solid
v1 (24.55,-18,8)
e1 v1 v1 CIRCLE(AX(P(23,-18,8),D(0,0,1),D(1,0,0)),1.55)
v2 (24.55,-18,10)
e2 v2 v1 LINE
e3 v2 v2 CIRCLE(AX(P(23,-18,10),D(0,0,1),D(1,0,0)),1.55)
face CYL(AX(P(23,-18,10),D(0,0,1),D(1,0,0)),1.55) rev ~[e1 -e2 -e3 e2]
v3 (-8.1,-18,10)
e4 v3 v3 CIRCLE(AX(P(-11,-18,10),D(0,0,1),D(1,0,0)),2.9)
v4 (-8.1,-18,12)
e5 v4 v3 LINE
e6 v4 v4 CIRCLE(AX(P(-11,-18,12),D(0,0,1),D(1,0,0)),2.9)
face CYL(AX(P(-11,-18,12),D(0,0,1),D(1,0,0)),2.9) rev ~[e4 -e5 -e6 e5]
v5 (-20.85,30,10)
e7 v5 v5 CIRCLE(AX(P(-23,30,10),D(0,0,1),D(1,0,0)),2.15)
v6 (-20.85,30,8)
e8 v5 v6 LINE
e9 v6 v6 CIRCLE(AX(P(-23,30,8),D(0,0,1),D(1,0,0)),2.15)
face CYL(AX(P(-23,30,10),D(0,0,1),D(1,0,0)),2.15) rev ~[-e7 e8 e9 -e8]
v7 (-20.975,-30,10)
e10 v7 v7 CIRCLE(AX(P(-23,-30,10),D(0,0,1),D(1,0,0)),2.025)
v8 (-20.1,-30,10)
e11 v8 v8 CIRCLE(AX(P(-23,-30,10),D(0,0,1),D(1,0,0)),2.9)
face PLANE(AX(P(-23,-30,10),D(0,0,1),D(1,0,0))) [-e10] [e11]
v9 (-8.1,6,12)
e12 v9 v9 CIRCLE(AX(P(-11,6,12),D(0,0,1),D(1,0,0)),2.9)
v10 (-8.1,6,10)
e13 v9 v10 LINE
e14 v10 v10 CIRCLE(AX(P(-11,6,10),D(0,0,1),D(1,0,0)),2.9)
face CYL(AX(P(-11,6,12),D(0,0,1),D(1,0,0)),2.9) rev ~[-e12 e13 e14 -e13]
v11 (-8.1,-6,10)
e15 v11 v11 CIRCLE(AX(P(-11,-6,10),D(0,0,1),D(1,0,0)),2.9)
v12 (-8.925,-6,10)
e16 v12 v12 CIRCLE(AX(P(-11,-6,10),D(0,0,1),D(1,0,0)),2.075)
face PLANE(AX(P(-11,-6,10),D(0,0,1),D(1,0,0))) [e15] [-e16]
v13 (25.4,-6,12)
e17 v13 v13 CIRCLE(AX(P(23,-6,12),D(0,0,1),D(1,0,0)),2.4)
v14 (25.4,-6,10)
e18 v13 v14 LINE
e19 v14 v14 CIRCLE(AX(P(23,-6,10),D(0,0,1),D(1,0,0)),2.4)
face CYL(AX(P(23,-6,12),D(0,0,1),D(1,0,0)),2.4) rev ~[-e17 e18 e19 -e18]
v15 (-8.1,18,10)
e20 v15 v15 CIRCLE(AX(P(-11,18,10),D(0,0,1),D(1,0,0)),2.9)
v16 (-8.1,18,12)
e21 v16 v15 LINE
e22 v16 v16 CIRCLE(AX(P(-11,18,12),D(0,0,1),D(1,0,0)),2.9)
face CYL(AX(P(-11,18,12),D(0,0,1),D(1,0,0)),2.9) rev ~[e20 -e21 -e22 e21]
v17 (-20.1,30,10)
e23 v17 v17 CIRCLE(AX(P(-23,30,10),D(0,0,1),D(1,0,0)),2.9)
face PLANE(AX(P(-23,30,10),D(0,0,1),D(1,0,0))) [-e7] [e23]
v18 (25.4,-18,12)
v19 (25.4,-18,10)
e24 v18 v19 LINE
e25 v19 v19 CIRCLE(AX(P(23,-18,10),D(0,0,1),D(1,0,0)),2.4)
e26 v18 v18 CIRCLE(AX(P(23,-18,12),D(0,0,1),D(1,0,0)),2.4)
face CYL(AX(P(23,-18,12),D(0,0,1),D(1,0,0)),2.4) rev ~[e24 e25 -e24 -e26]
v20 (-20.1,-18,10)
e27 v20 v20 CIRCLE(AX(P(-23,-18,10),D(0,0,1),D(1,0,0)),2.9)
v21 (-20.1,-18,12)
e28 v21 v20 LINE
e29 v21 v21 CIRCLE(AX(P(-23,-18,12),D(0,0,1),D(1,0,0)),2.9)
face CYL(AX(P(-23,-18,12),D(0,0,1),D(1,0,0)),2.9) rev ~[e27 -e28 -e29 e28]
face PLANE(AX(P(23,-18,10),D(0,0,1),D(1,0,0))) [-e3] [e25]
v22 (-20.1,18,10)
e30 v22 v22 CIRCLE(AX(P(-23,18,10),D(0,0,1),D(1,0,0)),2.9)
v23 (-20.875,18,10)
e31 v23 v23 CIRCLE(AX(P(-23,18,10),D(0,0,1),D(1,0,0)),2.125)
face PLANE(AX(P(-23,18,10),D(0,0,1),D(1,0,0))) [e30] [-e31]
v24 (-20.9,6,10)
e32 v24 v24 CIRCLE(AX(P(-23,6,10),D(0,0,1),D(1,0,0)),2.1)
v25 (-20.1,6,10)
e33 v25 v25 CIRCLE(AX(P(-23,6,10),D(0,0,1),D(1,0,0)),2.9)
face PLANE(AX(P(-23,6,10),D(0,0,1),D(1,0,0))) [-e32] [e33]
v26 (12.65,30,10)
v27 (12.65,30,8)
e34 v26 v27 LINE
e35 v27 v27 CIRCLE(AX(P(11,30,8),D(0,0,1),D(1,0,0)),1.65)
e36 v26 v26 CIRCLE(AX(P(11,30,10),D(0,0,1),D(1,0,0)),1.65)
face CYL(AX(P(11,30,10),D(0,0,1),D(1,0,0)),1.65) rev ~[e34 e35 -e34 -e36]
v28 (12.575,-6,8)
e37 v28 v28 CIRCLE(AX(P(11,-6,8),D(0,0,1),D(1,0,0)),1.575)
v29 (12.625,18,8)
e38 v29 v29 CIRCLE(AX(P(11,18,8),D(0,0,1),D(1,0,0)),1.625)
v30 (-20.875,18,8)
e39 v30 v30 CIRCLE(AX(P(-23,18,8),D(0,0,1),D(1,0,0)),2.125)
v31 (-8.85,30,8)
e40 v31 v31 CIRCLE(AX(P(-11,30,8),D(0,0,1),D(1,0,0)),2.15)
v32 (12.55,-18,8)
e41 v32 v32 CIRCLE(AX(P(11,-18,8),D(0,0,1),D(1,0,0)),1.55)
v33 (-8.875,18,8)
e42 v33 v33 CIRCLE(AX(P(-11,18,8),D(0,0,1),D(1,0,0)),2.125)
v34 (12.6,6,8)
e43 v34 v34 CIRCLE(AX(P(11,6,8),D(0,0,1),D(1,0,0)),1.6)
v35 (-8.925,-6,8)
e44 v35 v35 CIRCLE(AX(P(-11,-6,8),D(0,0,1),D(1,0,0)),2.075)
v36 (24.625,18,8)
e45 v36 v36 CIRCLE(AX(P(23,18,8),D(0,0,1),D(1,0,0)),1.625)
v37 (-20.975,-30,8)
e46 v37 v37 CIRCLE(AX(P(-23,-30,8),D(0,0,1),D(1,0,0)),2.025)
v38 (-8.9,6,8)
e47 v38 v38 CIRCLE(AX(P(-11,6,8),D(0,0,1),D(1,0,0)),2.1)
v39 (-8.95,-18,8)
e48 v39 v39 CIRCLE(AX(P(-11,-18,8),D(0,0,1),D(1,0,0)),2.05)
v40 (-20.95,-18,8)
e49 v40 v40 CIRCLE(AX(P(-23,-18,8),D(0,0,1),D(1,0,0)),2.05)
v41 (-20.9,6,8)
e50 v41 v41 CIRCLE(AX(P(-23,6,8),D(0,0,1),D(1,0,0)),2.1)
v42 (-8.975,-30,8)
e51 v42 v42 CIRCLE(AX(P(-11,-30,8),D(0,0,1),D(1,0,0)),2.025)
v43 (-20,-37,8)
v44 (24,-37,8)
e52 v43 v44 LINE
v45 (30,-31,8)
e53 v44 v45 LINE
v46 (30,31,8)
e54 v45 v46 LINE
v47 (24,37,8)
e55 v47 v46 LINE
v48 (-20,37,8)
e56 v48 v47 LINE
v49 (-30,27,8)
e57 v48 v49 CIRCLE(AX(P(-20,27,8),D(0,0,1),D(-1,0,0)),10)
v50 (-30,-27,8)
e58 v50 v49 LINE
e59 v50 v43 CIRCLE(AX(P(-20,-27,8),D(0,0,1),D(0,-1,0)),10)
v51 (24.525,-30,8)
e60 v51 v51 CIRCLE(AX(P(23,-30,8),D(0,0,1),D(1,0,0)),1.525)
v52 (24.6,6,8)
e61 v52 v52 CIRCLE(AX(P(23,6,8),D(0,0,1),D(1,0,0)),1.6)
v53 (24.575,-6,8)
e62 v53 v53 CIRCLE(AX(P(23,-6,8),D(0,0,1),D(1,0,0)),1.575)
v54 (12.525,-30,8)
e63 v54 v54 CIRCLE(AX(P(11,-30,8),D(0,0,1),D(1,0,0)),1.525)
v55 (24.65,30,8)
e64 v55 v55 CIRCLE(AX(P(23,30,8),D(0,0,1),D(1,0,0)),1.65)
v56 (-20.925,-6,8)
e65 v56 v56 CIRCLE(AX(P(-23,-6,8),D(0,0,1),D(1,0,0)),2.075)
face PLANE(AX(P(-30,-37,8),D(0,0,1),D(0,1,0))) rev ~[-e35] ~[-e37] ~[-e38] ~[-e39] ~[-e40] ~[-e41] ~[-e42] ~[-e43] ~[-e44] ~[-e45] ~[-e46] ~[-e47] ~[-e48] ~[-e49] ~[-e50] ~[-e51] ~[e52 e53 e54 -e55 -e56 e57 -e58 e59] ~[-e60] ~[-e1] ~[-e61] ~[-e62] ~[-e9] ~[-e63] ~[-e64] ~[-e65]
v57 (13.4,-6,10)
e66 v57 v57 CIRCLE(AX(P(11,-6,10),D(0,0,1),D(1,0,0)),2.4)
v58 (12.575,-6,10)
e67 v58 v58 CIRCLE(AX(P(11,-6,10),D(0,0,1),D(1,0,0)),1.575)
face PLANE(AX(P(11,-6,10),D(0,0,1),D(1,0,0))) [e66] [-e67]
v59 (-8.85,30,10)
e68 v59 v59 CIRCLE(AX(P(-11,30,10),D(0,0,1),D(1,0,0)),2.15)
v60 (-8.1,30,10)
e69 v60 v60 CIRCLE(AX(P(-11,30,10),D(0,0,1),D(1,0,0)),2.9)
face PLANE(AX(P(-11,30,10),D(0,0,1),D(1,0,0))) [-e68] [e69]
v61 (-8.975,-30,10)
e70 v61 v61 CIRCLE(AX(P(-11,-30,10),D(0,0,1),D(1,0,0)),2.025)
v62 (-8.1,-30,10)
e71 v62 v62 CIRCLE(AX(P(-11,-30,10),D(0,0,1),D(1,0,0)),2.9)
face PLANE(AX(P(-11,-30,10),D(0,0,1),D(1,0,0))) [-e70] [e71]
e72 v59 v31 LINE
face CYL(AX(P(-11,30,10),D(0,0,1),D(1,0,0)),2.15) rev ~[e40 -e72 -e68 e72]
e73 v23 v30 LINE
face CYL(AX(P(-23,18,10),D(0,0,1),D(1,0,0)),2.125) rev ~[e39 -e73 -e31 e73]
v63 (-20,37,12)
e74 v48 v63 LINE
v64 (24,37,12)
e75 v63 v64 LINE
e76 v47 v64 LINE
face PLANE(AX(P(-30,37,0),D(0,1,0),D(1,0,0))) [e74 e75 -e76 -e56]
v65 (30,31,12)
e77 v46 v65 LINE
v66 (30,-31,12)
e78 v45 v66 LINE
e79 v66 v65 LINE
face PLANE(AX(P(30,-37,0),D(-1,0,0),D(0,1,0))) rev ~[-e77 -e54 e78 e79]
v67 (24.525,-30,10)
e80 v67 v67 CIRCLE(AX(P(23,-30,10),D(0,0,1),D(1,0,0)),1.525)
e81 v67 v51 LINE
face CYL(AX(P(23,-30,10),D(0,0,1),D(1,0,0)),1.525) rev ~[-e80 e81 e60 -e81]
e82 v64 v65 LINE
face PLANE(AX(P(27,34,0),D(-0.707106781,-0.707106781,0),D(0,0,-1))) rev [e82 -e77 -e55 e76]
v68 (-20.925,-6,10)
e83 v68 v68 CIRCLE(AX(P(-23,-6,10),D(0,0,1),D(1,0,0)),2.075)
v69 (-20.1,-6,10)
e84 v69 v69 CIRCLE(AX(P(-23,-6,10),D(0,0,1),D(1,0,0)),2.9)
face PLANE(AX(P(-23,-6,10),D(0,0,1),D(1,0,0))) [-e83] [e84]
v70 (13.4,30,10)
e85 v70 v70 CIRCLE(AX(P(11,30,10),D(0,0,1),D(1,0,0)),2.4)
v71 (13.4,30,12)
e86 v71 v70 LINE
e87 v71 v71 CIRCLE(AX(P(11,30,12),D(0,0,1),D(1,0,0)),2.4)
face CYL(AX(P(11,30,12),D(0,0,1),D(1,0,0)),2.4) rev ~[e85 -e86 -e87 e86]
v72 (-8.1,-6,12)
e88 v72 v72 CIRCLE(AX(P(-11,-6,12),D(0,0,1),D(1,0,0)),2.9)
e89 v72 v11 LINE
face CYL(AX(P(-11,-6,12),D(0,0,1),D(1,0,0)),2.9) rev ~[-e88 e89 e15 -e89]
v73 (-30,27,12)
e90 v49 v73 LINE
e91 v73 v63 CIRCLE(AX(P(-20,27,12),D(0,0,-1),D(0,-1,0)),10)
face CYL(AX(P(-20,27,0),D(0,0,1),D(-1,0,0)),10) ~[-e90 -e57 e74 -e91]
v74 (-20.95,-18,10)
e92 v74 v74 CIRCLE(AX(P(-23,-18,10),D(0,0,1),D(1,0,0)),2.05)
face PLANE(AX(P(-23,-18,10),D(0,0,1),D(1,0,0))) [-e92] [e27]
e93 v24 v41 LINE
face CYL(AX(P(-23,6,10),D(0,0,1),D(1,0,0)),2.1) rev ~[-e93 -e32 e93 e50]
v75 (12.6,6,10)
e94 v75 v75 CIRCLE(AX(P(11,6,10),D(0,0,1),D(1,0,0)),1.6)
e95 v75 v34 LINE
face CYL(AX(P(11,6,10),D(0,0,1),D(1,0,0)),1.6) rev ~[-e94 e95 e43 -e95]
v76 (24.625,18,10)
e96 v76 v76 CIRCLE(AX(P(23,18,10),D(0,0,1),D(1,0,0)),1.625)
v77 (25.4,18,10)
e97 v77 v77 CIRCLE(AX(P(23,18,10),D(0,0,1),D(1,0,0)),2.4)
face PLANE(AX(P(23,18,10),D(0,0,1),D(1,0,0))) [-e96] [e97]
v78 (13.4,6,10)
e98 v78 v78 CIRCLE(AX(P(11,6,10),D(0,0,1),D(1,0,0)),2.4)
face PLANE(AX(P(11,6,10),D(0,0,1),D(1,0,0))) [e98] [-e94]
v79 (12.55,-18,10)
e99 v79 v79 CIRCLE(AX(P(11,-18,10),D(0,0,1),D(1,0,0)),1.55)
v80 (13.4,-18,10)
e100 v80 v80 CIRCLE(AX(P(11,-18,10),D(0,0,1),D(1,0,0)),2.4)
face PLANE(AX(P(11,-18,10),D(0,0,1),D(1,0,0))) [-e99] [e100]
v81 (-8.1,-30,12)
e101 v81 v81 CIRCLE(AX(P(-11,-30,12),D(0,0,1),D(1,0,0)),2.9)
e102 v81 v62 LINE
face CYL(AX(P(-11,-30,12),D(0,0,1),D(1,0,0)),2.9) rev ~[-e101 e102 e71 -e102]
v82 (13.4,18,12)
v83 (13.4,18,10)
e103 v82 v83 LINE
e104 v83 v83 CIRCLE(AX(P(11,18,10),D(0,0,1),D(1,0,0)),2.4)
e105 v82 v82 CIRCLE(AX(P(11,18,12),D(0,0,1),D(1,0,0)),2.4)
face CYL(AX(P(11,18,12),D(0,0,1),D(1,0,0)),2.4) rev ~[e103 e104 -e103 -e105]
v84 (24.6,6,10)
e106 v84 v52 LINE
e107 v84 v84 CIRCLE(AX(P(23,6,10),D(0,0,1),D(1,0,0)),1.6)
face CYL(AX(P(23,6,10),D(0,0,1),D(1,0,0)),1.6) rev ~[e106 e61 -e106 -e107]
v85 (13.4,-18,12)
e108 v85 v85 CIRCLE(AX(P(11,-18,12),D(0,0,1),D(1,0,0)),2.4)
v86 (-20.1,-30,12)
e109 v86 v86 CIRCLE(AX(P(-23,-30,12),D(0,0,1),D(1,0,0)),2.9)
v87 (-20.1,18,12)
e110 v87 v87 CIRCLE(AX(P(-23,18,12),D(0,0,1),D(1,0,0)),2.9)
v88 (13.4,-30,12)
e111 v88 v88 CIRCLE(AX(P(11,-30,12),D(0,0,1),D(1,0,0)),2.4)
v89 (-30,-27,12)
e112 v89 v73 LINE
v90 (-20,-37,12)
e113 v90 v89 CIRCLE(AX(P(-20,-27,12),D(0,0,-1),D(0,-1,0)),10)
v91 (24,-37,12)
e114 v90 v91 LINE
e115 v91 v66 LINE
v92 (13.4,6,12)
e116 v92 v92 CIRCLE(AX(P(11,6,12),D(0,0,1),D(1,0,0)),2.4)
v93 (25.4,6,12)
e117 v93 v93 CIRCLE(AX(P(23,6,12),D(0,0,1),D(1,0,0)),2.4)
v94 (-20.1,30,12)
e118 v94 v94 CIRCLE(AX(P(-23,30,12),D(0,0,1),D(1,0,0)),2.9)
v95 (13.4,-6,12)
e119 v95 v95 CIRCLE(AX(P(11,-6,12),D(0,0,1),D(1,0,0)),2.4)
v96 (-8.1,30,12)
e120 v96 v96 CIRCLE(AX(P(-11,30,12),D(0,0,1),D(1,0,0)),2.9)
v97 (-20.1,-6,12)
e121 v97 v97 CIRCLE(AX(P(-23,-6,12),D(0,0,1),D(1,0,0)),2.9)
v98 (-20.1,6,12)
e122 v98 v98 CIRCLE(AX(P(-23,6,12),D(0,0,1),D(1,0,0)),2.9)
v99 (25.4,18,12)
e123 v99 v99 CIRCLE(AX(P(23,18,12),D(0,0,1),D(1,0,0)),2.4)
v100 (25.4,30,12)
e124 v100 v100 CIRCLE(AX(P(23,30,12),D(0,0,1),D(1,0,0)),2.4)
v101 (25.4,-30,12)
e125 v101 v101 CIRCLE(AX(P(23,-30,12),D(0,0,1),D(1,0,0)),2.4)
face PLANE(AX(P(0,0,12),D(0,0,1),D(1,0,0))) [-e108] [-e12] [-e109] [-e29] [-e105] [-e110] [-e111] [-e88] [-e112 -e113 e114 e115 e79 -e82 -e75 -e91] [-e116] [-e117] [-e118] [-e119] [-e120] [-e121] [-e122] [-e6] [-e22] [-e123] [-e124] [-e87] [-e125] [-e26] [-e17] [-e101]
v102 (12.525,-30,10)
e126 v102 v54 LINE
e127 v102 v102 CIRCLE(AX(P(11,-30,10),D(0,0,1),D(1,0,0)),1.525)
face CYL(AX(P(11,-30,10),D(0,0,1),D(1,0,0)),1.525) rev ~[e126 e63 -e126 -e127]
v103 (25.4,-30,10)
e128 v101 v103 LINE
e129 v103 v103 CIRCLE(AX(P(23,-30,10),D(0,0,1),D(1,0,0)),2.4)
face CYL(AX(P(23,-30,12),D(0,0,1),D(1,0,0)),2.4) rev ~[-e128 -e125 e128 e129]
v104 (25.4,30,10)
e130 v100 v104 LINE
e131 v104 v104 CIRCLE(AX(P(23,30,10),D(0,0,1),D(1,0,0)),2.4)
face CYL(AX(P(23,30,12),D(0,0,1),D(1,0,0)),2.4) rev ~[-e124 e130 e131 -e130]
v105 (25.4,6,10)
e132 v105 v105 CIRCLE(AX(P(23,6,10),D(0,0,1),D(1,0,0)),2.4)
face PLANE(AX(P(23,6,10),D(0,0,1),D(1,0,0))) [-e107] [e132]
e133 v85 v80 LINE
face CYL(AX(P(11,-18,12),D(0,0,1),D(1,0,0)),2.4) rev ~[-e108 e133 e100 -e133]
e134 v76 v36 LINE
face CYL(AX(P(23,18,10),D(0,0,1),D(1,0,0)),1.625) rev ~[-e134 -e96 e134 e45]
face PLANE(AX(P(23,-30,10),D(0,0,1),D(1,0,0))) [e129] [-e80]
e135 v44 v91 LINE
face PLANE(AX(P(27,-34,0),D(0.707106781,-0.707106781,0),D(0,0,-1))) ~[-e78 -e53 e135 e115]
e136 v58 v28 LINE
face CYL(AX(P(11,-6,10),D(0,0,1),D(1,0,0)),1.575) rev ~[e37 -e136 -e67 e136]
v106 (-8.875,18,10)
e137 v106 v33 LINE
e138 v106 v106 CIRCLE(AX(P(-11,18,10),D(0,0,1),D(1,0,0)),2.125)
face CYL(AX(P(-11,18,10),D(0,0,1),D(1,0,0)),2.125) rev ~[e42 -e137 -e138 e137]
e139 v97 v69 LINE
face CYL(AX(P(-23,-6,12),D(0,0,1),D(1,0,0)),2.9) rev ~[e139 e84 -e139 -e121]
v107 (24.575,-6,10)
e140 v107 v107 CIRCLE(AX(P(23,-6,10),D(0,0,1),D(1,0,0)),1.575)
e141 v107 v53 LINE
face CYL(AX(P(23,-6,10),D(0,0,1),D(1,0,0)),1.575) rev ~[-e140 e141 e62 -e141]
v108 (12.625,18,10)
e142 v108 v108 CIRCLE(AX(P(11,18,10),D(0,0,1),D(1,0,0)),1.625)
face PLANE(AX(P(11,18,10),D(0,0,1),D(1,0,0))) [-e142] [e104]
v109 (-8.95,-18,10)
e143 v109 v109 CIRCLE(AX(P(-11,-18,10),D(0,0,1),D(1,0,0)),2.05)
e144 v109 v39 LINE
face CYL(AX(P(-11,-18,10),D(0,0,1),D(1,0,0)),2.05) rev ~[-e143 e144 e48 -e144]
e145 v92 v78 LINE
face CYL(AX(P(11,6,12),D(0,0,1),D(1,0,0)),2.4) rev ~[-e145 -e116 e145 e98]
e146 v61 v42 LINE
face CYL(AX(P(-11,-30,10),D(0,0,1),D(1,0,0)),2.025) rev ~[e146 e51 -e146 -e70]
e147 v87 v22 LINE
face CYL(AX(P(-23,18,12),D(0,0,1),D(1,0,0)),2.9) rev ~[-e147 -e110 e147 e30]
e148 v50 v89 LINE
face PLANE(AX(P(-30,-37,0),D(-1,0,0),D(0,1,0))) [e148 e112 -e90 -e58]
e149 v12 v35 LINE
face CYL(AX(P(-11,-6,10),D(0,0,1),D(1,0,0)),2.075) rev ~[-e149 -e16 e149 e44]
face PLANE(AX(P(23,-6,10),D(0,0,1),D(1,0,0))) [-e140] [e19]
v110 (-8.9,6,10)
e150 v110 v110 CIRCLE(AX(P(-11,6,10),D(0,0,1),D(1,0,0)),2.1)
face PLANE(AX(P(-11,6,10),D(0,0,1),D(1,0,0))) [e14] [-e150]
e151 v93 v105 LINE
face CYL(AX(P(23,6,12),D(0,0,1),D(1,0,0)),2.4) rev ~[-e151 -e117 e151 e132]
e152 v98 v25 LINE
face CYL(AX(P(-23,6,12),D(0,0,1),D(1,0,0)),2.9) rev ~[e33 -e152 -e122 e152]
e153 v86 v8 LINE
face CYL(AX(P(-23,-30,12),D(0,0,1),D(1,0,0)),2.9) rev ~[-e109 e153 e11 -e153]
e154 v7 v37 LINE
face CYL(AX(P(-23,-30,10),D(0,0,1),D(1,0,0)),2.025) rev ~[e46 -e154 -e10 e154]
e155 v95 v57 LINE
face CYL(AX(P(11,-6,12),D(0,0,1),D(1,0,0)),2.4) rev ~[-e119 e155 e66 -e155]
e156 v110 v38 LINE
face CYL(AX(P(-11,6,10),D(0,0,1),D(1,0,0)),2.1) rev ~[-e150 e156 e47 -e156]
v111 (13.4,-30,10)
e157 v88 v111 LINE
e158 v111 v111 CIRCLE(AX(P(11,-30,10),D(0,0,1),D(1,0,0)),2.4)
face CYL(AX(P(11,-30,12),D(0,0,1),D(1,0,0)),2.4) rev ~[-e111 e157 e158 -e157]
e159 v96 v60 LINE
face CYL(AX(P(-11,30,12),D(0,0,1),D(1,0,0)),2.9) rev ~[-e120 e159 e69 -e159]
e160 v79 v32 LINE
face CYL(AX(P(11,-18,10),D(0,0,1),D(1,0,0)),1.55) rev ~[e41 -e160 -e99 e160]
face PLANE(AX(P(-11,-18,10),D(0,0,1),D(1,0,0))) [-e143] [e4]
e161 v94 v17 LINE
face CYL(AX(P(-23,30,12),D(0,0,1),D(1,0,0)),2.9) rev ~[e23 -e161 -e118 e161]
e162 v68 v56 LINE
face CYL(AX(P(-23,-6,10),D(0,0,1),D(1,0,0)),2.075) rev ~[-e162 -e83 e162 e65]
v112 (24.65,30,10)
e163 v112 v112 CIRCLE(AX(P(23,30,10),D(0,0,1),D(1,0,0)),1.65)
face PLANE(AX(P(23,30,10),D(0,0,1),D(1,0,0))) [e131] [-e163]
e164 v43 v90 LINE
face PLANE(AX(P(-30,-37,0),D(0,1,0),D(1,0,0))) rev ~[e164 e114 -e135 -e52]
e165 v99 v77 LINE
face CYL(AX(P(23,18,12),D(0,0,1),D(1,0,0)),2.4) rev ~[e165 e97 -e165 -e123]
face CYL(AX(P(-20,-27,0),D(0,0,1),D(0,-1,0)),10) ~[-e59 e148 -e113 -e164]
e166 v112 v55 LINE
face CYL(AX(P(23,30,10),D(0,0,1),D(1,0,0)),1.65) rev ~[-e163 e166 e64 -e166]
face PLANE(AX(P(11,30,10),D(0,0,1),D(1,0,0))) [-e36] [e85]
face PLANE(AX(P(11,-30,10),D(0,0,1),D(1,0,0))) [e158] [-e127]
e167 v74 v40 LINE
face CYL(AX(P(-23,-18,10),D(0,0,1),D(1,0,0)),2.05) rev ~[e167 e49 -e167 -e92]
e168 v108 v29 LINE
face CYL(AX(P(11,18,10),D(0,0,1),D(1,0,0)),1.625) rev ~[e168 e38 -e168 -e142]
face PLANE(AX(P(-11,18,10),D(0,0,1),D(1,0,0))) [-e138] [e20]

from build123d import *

# Parameters (mm, degrees)
SKETCH1_W           = 60
SKETCH1_H           = 74
BOSS_EXTRUDE1_DEPTH = 12
SKETCH3_R           = 1.65
SKETCH3_R_2         = 1.15
CUT_EXTRUDE1_DEPTH  = 50.122296363
CHAMFER1_SIZE       = 6
FILLET1_R           = 10
SKETCH4_R           = 2.9
SKETCH4_R_2         = 2.4
CUT_EXTRUDE2_DEPTH  = 2
SKETCH6_R           = 2.15
SKETCH6_R_2         = 2.125
SKETCH6_R_3         = 2.1
SKETCH6_R_4         = 2.075
SKETCH6_R_5         = 2.05
SKETCH6_R_6         = 2.025
SKETCH6_R_7         = 1.525
SKETCH6_R_8         = 1.55
SKETCH6_R_9         = 1.575
SKETCH6_R_10        = 1.6
SKETCH6_R_11        = 1.625
SKETCH6_R_12        = 1.65
CUT_EXTRUDE3_DEPTH  = 3.1
SKETCH8_W           = 8
SKETCH8_H           = 74
CUT_EXTRUDE4_DEPTH  = 72.505244563


with BuildPart() as part:
    # Sketch1 → Boss-Extrude1 (new body)
    with BuildSketch(Plane.XY):
        Rectangle(SKETCH1_W, SKETCH1_H)
    extrude(amount=BOSS_EXTRUDE1_DEPTH)

    # Sketch3 → Cut-Extrude1 (cut, through all)
    with BuildSketch(Plane.XY.offset(12)):
        with Locations((-23, -30)):
            Circle(SKETCH3_R)
        with Locations((23, -30)):
            Circle(SKETCH3_R_2)
        with Locations((-11, -30)):
            Circle(SKETCH3_R)
        with Locations((-11, -18)):
            Circle(SKETCH3_R)
        with Locations((-11, -6)):
            Circle(SKETCH3_R)
        with Locations((-11, 6)):
            Circle(SKETCH3_R)
        with Locations((-23, -18)):
            Circle(SKETCH3_R)
        with Locations((-23, -6)):
            Circle(SKETCH3_R)
        with Locations((-23, 6)):
            Circle(SKETCH3_R)
        with Locations((11, -30)):
            Circle(SKETCH3_R_2)
        with Locations((11, -18)):
            Circle(SKETCH3_R_2)
        with Locations((11, -6)):
            Circle(SKETCH3_R_2)
        with Locations((11, 6)):
            Circle(SKETCH3_R_2)
        with Locations((23, -18)):
            Circle(SKETCH3_R_2)
        with Locations((23, -6)):
            Circle(SKETCH3_R_2)
        with Locations((23, 6)):
            Circle(SKETCH3_R_2)
        with Locations((-23, 18)):
            Circle(SKETCH3_R)
        with Locations((-11, 18)):
            Circle(SKETCH3_R)
        with Locations((-23, 30)):
            Circle(SKETCH3_R)
        with Locations((-11, 30)):
            Circle(SKETCH3_R)
        with Locations((23, 18)):
            Circle(SKETCH3_R_2)
        with Locations((11, 18)):
            Circle(SKETCH3_R_2)
        with Locations((23, 30)):
            Circle(SKETCH3_R_2)
        with Locations((11, 30)):
            Circle(SKETCH3_R_2)
    extrude(amount=-CUT_EXTRUDE1_DEPTH, mode=Mode.SUBTRACT)

    # Chamfer1
    chamfer1_edges = [part.edges().sort_by_distance(p)[0] for p in [
        (30, 37, 6),
        (30, -37, 6),
    ]]
    chamfer(chamfer1_edges, length=CHAMFER1_SIZE)

    # Fillet1
    fillet1_edges = [part.edges().sort_by_distance(p)[0] for p in [
        (-30, 37, 6),
        (-30, -37, 6),
    ]]
    fillet(fillet1_edges, radius=FILLET1_R)

    # Sketch4 → Cut-Extrude2 (cut)
    with BuildSketch(Plane.XY.offset(12)):
        with Locations((-23, -30)):
            Circle(SKETCH4_R)
        with Locations((-11, -30)):
            Circle(SKETCH4_R)
        with Locations((-11, -18)):
            Circle(SKETCH4_R)
        with Locations((-11, -6)):
            Circle(SKETCH4_R)
        with Locations((-11, 6)):
            Circle(SKETCH4_R)
        with Locations((-23, -18)):
            Circle(SKETCH4_R)
        with Locations((-23, -6)):
            Circle(SKETCH4_R)
        with Locations((-23, 6)):
            Circle(SKETCH4_R)
        with Locations((11, -30)):
            Circle(SKETCH4_R_2)
        with Locations((23, -30)):
            Circle(SKETCH4_R_2)
        with Locations((23, -18)):
            Circle(SKETCH4_R_2)
        with Locations((23, -6)):
            Circle(SKETCH4_R_2)
        with Locations((23, 6)):
            Circle(SKETCH4_R_2)
        with Locations((11, -18)):
            Circle(SKETCH4_R_2)
        with Locations((11, -6)):
            Circle(SKETCH4_R_2)
        with Locations((11, 6)):
            Circle(SKETCH4_R_2)
        with Locations((-23, 18)):
            Circle(SKETCH4_R)
        with Locations((-11, 18)):
            Circle(SKETCH4_R)
        with Locations((-23, 30)):
            Circle(SKETCH4_R)
        with Locations((-11, 30)):
            Circle(SKETCH4_R)
        with Locations((11, 18)):
            Circle(SKETCH4_R_2)
        with Locations((23, 18)):
            Circle(SKETCH4_R_2)
        with Locations((11, 30)):
            Circle(SKETCH4_R_2)
        with Locations((23, 30)):
            Circle(SKETCH4_R_2)
    extrude(amount=-CUT_EXTRUDE2_DEPTH, mode=Mode.SUBTRACT)

    # Sketch6 → Cut-Extrude3 (cut)
    with BuildSketch(Plane.XY.offset(10)):
        with Locations((-23, 30)):
            Circle(SKETCH6_R)
        with Locations((-23, 18)):
            Circle(SKETCH6_R_2)
        with Locations((-23, 6)):
            Circle(SKETCH6_R_3)
        with Locations((-23, -6)):
            Circle(SKETCH6_R_4)
        with Locations((-23, -18)):
            Circle(SKETCH6_R_5)
        with Locations((-23, -30)):
            Circle(SKETCH6_R_6)
        with Locations((-11, 30)):
            Circle(SKETCH6_R)
        with Locations((11, -30)):
            Circle(SKETCH6_R_7)
        with Locations((11, -18)):
            Circle(SKETCH6_R_8)
        with Locations((11, -6)):
            Circle(SKETCH6_R_9)
        with Locations((11, 6)):
            Circle(SKETCH6_R_10)
        with Locations((11, 18)):
            Circle(SKETCH6_R_11)
        with Locations((11, 30)):
            Circle(SKETCH6_R_12)
        with Locations((-11, 18)):
            Circle(SKETCH6_R_2)
        with Locations((-11, 6)):
            Circle(SKETCH6_R_3)
        with Locations((-11, -6)):
            Circle(SKETCH6_R_4)
        with Locations((-11, -18)):
            Circle(SKETCH6_R_5)
        with Locations((-11, -30)):
            Circle(SKETCH6_R_6)
        with Locations((23, -30)):
            Circle(SKETCH6_R_7)
        with Locations((23, -18)):
            Circle(SKETCH6_R_8)
        with Locations((23, -6)):
            Circle(SKETCH6_R_9)
        with Locations((23, 6)):
            Circle(SKETCH6_R_10)
        with Locations((23, 18)):
            Circle(SKETCH6_R_11)
        with Locations((23, 30)):
            Circle(SKETCH6_R_12)
    extrude(amount=-CUT_EXTRUDE3_DEPTH, mode=Mode.SUBTRACT)

    # Sketch8 → Cut-Extrude4 (cut, through all)
    with BuildSketch(Plane.ZY.offset(30)):
        with Locations((4, 0)):
            Rectangle(SKETCH8_W, SKETCH8_H)
    extrude(amount=-CUT_EXTRUDE4_DEPTH, mode=Mode.SUBTRACT)


solid = part.part
